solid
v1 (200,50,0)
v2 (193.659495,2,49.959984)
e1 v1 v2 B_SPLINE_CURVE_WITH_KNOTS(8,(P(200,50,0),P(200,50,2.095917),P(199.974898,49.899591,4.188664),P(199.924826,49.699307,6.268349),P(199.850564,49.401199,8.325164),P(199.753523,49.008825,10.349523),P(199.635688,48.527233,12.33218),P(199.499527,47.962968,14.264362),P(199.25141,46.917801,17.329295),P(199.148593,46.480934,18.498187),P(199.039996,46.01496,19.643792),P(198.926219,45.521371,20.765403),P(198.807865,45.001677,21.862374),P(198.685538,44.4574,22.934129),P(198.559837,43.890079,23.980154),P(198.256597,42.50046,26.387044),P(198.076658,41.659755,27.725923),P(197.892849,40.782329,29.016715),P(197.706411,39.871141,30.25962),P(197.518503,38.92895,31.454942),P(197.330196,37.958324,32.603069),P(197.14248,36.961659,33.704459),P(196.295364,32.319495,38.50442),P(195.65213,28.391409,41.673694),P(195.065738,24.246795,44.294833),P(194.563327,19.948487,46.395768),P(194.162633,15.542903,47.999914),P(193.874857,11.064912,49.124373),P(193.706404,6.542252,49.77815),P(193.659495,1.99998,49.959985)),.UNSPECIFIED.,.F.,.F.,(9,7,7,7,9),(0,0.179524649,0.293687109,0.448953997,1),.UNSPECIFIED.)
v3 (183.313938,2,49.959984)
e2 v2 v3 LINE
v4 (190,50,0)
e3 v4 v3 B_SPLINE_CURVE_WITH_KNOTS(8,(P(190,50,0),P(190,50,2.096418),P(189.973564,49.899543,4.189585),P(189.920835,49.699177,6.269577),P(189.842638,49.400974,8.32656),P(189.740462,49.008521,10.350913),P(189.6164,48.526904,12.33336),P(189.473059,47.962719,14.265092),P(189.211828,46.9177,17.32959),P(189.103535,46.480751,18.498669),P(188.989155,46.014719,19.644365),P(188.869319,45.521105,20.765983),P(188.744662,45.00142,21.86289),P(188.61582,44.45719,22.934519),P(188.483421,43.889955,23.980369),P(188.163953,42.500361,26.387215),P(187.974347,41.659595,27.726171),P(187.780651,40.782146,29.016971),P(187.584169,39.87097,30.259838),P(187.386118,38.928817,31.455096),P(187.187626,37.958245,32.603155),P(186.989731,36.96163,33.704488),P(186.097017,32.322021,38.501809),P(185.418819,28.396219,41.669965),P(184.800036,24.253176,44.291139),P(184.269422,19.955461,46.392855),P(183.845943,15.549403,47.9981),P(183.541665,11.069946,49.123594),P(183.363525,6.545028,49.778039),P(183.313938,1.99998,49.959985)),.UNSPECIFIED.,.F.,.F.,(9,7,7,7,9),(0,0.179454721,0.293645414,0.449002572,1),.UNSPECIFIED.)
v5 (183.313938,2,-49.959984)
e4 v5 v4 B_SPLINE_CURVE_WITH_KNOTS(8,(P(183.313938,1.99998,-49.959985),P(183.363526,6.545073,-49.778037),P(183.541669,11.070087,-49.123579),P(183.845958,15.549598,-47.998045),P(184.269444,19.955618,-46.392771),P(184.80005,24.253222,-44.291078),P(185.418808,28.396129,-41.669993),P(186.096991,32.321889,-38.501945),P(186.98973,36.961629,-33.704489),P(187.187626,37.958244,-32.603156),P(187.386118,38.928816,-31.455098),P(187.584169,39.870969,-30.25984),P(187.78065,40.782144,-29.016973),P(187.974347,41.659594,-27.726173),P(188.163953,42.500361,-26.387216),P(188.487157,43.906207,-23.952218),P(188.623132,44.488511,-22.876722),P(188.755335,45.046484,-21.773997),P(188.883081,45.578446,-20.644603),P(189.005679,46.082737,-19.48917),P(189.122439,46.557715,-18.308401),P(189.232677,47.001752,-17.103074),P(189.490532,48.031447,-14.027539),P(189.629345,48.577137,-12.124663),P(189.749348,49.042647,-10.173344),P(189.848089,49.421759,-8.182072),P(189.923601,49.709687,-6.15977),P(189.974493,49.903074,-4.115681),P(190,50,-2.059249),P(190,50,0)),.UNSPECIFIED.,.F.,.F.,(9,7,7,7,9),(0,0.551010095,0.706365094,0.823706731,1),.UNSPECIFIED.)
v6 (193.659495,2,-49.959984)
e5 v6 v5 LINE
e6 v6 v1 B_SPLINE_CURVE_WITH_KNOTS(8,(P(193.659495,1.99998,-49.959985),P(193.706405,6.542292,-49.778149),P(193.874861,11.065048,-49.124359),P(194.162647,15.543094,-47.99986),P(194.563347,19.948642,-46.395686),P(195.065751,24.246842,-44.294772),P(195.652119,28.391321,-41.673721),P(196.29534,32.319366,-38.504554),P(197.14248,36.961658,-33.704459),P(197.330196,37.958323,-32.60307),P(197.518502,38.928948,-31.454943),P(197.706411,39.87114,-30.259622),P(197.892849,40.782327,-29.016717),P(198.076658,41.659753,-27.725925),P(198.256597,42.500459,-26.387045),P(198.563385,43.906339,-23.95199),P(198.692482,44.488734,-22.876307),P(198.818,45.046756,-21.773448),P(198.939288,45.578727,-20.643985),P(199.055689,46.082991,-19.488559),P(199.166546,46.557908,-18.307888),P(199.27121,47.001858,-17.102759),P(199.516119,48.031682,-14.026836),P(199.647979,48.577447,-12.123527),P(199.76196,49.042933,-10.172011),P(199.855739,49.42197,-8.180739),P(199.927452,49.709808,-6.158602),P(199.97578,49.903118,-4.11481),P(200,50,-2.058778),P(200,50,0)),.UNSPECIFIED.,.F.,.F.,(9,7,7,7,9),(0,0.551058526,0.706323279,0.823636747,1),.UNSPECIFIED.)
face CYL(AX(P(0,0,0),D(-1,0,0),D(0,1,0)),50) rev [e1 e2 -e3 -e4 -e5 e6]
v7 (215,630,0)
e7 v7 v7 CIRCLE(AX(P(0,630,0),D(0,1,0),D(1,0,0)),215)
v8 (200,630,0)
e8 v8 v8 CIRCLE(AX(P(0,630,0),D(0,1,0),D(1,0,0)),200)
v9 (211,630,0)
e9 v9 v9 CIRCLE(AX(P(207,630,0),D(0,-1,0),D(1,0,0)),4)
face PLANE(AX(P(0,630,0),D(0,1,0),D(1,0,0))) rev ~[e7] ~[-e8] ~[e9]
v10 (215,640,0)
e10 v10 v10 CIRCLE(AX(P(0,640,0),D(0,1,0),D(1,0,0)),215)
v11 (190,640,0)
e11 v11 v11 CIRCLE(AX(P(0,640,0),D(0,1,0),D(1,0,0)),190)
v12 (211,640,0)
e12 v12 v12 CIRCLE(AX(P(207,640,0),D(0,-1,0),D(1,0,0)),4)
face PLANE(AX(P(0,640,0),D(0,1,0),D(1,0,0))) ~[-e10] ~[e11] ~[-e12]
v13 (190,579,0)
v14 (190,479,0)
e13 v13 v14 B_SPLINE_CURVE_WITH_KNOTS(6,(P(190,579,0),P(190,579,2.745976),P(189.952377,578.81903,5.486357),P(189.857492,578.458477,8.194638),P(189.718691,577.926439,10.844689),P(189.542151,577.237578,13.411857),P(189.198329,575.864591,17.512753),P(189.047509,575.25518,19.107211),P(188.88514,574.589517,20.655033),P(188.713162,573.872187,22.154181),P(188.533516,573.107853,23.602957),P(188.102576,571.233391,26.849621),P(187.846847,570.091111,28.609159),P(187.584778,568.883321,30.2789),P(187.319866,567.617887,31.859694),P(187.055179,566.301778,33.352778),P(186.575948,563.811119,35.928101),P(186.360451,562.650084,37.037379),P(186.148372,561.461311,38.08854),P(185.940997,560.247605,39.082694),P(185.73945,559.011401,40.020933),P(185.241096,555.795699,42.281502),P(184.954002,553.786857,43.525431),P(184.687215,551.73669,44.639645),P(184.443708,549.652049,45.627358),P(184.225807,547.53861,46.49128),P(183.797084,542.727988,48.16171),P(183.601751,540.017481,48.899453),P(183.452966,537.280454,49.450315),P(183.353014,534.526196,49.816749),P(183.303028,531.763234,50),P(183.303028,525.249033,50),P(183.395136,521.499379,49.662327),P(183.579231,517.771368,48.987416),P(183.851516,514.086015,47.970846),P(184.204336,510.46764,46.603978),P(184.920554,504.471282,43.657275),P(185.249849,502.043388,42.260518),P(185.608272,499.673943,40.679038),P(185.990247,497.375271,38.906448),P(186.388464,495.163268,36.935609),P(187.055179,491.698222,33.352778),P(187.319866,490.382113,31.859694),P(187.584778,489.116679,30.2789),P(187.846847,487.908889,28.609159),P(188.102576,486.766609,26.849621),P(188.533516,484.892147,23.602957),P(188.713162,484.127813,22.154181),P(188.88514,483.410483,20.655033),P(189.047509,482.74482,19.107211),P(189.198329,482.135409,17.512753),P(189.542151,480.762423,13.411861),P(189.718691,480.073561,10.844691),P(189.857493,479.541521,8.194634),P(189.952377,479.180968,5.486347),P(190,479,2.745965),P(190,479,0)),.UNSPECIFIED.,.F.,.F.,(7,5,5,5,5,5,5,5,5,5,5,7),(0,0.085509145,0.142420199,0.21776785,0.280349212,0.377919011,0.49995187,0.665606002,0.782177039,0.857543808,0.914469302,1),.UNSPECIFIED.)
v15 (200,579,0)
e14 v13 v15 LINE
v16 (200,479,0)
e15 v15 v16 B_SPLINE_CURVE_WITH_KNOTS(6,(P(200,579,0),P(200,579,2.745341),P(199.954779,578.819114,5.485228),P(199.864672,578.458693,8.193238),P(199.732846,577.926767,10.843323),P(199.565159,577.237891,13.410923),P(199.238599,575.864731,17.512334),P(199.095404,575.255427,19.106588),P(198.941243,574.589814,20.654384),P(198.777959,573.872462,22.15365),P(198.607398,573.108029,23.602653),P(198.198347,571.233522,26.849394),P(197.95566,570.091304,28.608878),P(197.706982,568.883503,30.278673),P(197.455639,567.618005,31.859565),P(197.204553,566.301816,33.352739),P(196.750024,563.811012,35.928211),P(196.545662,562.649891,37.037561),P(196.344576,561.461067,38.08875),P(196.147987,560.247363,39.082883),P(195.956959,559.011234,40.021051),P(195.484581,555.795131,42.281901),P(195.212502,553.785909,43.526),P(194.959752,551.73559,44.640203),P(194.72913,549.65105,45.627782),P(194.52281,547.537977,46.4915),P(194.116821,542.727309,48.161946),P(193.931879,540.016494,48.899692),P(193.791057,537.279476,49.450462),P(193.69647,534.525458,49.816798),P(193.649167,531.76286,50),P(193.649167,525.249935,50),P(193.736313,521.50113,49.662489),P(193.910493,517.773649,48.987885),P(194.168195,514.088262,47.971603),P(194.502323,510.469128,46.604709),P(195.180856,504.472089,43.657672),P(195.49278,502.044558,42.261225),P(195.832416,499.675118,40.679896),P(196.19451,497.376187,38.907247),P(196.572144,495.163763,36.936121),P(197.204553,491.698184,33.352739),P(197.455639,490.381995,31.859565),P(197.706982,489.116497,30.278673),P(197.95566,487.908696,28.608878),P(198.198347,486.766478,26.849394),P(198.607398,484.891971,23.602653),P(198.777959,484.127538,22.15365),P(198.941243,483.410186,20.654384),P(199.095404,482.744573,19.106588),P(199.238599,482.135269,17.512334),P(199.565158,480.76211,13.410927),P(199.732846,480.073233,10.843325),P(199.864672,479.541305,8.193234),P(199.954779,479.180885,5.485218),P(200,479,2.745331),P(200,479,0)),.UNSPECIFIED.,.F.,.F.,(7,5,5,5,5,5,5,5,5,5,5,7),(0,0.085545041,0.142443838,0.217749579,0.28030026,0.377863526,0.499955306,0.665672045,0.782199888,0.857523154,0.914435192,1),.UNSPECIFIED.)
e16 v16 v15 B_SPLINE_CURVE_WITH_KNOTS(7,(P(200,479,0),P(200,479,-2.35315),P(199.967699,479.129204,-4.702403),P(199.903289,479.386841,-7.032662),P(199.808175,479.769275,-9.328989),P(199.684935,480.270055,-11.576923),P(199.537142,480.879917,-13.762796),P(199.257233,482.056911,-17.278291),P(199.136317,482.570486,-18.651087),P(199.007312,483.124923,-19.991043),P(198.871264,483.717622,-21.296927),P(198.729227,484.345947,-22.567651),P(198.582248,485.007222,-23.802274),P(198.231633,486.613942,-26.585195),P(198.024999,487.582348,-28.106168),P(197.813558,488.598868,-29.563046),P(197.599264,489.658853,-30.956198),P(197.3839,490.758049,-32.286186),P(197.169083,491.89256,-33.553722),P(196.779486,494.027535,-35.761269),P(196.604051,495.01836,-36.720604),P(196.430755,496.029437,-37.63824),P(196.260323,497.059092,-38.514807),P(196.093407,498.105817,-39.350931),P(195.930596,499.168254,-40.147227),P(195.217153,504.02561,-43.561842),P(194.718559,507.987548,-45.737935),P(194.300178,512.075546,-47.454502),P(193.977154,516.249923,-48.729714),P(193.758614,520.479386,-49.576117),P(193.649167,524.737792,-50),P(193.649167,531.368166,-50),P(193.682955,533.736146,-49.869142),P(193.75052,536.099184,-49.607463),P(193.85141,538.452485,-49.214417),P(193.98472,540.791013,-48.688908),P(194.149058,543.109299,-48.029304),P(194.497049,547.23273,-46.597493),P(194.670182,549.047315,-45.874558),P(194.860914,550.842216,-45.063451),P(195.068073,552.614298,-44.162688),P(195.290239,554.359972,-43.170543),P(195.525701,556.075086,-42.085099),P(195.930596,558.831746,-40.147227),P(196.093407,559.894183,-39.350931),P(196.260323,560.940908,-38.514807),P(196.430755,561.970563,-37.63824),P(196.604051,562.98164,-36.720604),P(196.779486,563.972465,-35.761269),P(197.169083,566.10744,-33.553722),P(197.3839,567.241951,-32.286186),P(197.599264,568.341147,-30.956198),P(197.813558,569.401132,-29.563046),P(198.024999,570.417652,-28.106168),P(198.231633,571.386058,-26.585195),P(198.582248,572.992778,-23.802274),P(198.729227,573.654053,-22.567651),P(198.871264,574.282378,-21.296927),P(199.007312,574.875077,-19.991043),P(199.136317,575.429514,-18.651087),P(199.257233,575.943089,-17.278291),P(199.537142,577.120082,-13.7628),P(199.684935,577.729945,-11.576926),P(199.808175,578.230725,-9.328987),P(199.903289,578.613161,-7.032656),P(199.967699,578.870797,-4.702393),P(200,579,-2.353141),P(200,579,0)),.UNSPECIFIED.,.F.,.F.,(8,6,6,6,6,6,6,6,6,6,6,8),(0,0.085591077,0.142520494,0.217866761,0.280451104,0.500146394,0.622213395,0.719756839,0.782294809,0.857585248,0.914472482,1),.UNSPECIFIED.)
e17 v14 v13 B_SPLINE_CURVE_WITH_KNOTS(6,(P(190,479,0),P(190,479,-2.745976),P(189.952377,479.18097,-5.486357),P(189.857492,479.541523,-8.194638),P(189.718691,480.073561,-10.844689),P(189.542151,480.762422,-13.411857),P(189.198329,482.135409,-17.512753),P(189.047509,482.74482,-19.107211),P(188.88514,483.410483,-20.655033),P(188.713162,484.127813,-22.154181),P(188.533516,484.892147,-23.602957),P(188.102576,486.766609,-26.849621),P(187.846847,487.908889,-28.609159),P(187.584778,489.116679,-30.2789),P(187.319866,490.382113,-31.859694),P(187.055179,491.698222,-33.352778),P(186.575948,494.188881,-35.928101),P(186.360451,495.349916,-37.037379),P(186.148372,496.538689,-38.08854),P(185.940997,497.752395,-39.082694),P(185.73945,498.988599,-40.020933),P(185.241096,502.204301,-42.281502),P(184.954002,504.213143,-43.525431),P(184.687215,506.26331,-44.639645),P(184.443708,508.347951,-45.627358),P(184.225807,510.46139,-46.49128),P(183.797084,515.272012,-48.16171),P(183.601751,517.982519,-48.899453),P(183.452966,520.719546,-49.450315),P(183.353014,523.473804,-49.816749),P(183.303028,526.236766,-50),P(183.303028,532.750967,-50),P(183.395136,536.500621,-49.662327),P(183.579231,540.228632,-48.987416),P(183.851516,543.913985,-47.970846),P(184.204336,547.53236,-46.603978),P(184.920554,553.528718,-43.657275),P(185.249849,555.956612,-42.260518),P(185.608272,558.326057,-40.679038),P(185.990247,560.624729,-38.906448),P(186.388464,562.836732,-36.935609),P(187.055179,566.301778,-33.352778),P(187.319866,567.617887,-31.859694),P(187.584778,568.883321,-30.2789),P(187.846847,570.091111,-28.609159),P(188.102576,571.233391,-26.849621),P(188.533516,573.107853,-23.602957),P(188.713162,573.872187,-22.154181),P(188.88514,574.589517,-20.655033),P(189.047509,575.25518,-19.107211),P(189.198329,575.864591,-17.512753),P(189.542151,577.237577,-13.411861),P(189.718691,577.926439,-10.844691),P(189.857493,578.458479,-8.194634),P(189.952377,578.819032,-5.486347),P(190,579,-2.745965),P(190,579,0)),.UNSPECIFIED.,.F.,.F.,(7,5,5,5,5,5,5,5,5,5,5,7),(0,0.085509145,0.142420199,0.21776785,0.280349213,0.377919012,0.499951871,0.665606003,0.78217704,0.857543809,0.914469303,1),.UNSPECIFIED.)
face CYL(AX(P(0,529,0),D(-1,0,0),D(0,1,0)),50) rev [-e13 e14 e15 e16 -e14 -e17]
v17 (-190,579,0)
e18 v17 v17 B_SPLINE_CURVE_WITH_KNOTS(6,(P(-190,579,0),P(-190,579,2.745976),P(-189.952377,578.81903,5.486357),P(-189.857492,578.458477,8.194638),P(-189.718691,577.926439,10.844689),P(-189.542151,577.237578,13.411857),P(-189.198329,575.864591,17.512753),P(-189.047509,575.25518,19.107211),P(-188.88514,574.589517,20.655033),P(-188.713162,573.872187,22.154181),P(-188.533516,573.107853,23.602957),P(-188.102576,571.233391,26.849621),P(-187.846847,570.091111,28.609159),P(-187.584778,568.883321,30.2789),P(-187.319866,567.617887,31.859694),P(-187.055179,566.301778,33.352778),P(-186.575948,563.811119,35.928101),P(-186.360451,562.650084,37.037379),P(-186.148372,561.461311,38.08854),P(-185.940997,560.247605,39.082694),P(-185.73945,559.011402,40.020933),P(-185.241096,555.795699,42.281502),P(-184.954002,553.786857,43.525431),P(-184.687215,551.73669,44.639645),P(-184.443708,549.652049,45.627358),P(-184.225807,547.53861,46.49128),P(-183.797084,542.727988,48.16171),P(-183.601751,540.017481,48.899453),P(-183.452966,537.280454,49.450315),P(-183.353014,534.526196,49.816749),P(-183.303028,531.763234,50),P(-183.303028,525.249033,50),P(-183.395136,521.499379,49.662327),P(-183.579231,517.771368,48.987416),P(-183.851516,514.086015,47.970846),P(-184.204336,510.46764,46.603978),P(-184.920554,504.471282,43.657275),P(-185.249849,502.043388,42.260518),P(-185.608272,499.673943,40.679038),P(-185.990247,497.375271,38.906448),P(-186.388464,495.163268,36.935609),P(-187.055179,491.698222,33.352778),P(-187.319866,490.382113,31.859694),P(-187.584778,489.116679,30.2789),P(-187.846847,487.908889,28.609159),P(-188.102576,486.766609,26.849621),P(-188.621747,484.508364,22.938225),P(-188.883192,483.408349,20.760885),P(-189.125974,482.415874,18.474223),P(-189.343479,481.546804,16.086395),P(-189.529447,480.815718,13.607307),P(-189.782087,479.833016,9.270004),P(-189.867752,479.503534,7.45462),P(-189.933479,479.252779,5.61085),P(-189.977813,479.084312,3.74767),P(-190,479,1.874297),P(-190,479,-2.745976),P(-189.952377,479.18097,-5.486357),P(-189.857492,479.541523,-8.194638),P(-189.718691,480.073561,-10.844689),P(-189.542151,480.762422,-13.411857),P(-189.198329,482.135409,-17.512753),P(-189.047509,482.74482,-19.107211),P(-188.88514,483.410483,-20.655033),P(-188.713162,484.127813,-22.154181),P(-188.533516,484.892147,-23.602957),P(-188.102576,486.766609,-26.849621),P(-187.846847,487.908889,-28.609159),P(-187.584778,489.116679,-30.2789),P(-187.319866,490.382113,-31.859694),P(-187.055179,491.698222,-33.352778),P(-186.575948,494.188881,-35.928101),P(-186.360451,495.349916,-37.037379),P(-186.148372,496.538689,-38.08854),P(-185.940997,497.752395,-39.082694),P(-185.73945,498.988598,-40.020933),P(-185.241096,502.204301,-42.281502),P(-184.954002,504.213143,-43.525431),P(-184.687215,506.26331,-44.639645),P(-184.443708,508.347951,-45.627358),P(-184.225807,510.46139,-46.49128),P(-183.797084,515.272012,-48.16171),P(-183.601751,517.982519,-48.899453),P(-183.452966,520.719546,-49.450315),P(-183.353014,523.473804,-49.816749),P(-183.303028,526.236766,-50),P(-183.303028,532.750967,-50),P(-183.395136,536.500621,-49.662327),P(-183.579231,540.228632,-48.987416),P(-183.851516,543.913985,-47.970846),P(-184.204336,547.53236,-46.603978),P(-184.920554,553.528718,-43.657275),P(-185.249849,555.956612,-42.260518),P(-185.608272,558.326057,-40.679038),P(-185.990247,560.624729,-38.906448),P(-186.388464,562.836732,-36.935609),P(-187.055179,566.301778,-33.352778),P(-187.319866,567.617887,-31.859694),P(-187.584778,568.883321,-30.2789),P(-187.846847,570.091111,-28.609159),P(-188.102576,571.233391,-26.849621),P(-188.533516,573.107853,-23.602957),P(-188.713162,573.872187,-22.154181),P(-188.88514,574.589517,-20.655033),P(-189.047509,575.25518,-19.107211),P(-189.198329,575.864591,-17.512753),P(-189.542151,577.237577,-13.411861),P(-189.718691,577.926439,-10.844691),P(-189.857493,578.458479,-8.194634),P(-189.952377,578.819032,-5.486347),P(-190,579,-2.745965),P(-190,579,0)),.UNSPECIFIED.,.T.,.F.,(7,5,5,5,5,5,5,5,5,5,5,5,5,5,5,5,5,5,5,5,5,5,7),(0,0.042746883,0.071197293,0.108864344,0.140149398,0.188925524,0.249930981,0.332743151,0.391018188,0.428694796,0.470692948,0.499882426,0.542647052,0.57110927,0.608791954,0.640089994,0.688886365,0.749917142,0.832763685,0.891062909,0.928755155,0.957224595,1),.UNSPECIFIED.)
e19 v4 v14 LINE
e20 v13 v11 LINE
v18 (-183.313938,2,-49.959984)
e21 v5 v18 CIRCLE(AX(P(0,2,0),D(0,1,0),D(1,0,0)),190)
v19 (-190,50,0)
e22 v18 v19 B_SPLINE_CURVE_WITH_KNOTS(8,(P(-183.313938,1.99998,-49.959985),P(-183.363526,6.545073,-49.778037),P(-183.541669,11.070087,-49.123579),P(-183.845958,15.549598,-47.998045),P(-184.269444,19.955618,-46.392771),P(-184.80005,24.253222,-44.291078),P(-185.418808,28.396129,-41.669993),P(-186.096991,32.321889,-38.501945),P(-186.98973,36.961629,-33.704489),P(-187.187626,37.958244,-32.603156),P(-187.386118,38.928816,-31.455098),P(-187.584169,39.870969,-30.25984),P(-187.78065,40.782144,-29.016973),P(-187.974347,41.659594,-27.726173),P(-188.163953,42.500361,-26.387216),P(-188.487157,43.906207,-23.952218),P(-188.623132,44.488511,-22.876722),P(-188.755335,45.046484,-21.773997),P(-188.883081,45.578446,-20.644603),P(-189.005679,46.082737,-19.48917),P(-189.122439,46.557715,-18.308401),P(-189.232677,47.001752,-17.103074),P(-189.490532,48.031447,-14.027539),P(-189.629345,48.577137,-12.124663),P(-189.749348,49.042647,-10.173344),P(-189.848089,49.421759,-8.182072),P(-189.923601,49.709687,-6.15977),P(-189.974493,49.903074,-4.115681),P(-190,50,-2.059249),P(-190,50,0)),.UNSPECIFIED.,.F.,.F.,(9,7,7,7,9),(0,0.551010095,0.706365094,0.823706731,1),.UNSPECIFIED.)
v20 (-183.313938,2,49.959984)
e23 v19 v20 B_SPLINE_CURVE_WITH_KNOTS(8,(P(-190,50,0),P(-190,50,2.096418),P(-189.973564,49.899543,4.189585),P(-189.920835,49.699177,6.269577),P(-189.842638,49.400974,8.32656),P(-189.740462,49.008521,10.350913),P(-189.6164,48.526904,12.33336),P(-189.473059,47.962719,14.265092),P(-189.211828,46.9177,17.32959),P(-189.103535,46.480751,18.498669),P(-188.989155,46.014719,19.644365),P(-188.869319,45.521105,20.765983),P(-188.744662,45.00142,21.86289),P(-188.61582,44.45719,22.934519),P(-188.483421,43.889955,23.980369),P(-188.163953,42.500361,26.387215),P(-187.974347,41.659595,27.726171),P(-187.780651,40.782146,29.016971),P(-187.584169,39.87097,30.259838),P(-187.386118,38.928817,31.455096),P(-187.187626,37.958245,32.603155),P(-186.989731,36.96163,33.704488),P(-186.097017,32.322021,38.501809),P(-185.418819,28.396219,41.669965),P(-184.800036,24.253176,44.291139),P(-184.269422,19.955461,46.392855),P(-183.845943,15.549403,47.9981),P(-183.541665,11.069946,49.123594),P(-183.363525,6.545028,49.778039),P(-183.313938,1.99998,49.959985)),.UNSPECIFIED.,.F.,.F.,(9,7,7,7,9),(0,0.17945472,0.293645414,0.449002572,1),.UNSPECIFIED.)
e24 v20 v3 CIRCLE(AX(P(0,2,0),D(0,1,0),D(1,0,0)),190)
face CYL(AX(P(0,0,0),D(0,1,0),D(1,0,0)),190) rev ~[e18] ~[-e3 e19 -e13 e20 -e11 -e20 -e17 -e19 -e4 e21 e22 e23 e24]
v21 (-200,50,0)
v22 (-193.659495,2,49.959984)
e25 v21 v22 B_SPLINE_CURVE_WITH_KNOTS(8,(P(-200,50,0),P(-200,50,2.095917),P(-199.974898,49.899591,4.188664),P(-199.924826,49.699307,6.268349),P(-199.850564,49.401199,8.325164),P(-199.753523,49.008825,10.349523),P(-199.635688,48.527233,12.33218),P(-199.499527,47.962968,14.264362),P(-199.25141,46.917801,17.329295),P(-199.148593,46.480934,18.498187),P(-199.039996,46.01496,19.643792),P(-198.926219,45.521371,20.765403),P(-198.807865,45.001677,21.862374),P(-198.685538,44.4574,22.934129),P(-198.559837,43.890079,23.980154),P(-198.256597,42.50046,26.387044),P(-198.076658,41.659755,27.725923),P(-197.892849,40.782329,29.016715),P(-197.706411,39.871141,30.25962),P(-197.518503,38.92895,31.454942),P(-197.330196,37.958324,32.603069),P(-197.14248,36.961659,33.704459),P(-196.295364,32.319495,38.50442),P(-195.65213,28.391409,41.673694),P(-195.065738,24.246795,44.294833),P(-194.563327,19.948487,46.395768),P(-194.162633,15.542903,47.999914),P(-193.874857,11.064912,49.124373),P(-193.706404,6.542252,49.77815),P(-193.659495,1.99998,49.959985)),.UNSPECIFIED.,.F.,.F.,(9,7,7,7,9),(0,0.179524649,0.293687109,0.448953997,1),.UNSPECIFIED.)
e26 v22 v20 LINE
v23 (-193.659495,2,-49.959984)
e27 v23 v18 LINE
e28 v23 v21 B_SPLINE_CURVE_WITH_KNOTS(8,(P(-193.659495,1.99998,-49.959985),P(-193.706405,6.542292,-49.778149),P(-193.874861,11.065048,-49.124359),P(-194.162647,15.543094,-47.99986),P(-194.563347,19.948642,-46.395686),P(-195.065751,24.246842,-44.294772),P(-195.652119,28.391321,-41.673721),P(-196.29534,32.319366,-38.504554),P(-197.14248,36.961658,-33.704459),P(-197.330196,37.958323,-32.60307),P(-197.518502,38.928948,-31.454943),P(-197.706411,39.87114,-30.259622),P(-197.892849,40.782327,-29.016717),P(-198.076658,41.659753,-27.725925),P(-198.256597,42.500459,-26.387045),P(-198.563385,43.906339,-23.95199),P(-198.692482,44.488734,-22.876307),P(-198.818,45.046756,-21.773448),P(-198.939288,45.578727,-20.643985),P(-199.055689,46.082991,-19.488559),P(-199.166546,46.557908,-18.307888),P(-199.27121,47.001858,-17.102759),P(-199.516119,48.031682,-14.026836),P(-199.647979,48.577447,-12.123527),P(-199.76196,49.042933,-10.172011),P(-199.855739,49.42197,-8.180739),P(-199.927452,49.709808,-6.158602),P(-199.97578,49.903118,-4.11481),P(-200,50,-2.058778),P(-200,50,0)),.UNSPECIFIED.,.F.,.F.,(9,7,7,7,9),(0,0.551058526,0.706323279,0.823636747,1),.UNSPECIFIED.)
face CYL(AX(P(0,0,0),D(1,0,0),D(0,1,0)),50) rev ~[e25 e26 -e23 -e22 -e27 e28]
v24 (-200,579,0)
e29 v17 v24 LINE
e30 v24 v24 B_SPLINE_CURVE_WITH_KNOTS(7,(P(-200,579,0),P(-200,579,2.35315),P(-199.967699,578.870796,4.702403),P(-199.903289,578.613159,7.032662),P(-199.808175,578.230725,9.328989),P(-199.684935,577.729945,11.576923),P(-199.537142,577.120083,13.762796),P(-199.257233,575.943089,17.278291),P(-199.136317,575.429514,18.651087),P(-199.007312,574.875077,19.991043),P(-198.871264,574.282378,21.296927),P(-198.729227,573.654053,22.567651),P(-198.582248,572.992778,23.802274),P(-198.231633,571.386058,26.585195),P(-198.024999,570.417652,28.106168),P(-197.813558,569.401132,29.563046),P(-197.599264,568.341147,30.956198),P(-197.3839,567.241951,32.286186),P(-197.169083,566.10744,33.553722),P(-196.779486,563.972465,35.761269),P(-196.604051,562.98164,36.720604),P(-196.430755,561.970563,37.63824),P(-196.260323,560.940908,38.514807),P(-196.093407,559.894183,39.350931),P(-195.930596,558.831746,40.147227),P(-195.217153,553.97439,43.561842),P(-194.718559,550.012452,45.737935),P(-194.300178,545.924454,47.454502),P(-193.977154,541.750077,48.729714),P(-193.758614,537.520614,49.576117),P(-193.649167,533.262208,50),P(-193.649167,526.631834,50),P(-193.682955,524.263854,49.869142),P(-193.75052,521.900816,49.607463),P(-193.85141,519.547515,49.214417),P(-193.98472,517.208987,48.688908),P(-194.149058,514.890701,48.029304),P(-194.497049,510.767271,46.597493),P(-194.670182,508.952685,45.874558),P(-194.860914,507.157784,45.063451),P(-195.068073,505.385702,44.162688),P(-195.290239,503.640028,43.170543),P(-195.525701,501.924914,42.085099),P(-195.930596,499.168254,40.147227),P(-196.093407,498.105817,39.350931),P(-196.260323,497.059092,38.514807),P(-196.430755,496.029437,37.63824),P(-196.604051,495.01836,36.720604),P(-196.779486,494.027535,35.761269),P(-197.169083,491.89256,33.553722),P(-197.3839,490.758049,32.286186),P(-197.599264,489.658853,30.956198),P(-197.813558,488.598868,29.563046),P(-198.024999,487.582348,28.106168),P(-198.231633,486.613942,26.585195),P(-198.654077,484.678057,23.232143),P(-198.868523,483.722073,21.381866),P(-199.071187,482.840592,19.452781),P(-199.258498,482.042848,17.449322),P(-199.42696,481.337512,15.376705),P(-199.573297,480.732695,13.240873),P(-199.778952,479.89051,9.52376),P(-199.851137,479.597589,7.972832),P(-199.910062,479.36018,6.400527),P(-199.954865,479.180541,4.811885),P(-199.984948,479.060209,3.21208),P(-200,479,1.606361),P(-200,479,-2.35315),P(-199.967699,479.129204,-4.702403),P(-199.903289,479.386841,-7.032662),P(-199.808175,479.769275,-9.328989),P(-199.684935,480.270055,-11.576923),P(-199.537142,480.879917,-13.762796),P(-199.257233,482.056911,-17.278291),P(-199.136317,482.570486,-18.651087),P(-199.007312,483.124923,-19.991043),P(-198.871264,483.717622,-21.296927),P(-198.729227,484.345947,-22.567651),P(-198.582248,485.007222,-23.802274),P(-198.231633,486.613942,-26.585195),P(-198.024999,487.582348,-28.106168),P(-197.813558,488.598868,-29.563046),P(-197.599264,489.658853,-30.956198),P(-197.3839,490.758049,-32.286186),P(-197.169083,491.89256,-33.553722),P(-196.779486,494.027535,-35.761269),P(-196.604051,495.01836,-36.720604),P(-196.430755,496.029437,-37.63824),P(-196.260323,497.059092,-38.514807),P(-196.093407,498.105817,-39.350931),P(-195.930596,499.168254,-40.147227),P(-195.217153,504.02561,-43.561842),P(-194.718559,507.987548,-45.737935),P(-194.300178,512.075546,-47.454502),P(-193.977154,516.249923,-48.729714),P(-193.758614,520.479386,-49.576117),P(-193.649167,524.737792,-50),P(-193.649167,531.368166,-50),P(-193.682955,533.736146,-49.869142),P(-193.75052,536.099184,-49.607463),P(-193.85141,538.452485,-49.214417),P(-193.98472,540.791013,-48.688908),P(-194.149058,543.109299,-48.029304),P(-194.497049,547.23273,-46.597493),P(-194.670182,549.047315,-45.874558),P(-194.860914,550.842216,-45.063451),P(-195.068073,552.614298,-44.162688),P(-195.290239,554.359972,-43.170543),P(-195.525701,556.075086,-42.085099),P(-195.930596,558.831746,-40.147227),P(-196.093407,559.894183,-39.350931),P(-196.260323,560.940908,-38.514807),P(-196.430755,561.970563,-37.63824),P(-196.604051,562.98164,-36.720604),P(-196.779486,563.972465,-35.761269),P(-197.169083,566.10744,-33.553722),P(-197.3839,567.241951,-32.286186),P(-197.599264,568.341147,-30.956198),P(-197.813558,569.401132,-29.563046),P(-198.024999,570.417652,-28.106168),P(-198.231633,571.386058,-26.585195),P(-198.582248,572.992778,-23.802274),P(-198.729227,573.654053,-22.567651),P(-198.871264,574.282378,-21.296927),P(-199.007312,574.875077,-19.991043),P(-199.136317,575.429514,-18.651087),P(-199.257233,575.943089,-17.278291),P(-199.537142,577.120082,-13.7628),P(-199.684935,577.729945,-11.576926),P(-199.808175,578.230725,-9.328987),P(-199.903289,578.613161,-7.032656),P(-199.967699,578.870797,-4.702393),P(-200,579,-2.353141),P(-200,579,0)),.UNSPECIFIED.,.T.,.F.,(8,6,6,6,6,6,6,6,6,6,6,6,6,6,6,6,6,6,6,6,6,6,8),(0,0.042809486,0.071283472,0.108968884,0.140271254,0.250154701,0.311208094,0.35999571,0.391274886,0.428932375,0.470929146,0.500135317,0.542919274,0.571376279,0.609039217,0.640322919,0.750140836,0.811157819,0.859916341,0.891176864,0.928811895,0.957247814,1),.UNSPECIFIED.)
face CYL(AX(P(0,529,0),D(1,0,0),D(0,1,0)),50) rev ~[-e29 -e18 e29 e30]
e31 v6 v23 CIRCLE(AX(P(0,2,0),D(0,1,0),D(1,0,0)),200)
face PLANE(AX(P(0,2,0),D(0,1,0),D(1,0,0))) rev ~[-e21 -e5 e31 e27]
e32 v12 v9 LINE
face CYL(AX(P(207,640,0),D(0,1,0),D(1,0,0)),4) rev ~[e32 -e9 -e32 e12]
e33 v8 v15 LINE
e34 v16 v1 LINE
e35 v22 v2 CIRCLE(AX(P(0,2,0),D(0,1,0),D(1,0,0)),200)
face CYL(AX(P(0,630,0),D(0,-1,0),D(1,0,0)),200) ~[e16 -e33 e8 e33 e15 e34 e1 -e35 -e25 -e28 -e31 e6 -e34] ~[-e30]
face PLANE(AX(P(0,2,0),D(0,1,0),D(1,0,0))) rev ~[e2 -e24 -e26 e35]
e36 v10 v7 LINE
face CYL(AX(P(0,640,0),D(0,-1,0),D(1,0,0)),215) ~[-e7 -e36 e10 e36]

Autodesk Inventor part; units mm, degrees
ref_plane "YZ Plane" through (0, 0, 0) normal (1, 0, 0) x (0, 1, 0)
ref_plane "XZ Plane" through (0, 0, 0) normal (0, 1, 0) x (-1, 0, 0)
ref_plane "XY Plane" through (0, 0, 0) normal (0, 0, 1) x (1, 0, 0)
sketch "Эскиз1" plane through (0, 0, 0) normal (0, 0, 1) x (1, 0, 0)
  line L0 (0, 0) -> (190, 0)
  line L1 (190, 0) -> (190, 640)
  line L2 (190, 640) -> (215, 640)
  line L3 (215, 640) -> (215, 630)
  line L4 (215, 630) -> (200, 630)
  line L5 (200, 630) -> (200, 0)
  line L6 (200, 0) -> (190, 0)
  line L7 (0, -128) -> (0, 768) projected
  line L8 (200, 0) -> (200, 2)
  line L9 (200, 2) -> (190, 2)
  dimension "d0" = 190
  dimension "d1" = 640
  dimension "d2" = 25
  dimension "d3" = 10
  dimension "d20" = 2
revolve "Вращение1" add sketch "Эскиз1" angle 360 about axis through (0, -10, 0) along (0, 1, 0) contours L1 L2 L3 L4 L5 L9
sketch "Эскиз2" plane through (0, 640, 0) normal (0, 1, 0) x (1, 0, 0)
  circle A0 centre (207, 0) radius 4
  circle A1 centre (0, 0) radius 190 projected
  line L0 (190, 0) -> (207, 0)
  dimension "d6" = 8
  dimension "d19" = 17
extrude "Выдавливание1" cut sketch "Эскиз2" against normal through all contours A0
sketch "Эскиз3" plane through (0, 0, 0) normal (1, 0, 0) x (0, 1, 0)
  line L0 (630, 215) -> (630, -215) projected
  line L1 (630, 200) -> (630, -200) projected
  line L2 (630, 0) -> (529, 0)
  circle A0 centre (529, 0) radius 50
  line L3 (0, 0) -> (0, 0)
  circle A1 centre (0, 0) radius 50
  dimension "d11" = 101
  dimension "d12" = 100
  dimension "d17" = 0
  dimension "d18" = 100
extrude "Выдавливание2" cut sketch "Эскиз3" along normal through all both and the other way through all
properties part number "Втулка_CPY" material "Сталь, легированная"
